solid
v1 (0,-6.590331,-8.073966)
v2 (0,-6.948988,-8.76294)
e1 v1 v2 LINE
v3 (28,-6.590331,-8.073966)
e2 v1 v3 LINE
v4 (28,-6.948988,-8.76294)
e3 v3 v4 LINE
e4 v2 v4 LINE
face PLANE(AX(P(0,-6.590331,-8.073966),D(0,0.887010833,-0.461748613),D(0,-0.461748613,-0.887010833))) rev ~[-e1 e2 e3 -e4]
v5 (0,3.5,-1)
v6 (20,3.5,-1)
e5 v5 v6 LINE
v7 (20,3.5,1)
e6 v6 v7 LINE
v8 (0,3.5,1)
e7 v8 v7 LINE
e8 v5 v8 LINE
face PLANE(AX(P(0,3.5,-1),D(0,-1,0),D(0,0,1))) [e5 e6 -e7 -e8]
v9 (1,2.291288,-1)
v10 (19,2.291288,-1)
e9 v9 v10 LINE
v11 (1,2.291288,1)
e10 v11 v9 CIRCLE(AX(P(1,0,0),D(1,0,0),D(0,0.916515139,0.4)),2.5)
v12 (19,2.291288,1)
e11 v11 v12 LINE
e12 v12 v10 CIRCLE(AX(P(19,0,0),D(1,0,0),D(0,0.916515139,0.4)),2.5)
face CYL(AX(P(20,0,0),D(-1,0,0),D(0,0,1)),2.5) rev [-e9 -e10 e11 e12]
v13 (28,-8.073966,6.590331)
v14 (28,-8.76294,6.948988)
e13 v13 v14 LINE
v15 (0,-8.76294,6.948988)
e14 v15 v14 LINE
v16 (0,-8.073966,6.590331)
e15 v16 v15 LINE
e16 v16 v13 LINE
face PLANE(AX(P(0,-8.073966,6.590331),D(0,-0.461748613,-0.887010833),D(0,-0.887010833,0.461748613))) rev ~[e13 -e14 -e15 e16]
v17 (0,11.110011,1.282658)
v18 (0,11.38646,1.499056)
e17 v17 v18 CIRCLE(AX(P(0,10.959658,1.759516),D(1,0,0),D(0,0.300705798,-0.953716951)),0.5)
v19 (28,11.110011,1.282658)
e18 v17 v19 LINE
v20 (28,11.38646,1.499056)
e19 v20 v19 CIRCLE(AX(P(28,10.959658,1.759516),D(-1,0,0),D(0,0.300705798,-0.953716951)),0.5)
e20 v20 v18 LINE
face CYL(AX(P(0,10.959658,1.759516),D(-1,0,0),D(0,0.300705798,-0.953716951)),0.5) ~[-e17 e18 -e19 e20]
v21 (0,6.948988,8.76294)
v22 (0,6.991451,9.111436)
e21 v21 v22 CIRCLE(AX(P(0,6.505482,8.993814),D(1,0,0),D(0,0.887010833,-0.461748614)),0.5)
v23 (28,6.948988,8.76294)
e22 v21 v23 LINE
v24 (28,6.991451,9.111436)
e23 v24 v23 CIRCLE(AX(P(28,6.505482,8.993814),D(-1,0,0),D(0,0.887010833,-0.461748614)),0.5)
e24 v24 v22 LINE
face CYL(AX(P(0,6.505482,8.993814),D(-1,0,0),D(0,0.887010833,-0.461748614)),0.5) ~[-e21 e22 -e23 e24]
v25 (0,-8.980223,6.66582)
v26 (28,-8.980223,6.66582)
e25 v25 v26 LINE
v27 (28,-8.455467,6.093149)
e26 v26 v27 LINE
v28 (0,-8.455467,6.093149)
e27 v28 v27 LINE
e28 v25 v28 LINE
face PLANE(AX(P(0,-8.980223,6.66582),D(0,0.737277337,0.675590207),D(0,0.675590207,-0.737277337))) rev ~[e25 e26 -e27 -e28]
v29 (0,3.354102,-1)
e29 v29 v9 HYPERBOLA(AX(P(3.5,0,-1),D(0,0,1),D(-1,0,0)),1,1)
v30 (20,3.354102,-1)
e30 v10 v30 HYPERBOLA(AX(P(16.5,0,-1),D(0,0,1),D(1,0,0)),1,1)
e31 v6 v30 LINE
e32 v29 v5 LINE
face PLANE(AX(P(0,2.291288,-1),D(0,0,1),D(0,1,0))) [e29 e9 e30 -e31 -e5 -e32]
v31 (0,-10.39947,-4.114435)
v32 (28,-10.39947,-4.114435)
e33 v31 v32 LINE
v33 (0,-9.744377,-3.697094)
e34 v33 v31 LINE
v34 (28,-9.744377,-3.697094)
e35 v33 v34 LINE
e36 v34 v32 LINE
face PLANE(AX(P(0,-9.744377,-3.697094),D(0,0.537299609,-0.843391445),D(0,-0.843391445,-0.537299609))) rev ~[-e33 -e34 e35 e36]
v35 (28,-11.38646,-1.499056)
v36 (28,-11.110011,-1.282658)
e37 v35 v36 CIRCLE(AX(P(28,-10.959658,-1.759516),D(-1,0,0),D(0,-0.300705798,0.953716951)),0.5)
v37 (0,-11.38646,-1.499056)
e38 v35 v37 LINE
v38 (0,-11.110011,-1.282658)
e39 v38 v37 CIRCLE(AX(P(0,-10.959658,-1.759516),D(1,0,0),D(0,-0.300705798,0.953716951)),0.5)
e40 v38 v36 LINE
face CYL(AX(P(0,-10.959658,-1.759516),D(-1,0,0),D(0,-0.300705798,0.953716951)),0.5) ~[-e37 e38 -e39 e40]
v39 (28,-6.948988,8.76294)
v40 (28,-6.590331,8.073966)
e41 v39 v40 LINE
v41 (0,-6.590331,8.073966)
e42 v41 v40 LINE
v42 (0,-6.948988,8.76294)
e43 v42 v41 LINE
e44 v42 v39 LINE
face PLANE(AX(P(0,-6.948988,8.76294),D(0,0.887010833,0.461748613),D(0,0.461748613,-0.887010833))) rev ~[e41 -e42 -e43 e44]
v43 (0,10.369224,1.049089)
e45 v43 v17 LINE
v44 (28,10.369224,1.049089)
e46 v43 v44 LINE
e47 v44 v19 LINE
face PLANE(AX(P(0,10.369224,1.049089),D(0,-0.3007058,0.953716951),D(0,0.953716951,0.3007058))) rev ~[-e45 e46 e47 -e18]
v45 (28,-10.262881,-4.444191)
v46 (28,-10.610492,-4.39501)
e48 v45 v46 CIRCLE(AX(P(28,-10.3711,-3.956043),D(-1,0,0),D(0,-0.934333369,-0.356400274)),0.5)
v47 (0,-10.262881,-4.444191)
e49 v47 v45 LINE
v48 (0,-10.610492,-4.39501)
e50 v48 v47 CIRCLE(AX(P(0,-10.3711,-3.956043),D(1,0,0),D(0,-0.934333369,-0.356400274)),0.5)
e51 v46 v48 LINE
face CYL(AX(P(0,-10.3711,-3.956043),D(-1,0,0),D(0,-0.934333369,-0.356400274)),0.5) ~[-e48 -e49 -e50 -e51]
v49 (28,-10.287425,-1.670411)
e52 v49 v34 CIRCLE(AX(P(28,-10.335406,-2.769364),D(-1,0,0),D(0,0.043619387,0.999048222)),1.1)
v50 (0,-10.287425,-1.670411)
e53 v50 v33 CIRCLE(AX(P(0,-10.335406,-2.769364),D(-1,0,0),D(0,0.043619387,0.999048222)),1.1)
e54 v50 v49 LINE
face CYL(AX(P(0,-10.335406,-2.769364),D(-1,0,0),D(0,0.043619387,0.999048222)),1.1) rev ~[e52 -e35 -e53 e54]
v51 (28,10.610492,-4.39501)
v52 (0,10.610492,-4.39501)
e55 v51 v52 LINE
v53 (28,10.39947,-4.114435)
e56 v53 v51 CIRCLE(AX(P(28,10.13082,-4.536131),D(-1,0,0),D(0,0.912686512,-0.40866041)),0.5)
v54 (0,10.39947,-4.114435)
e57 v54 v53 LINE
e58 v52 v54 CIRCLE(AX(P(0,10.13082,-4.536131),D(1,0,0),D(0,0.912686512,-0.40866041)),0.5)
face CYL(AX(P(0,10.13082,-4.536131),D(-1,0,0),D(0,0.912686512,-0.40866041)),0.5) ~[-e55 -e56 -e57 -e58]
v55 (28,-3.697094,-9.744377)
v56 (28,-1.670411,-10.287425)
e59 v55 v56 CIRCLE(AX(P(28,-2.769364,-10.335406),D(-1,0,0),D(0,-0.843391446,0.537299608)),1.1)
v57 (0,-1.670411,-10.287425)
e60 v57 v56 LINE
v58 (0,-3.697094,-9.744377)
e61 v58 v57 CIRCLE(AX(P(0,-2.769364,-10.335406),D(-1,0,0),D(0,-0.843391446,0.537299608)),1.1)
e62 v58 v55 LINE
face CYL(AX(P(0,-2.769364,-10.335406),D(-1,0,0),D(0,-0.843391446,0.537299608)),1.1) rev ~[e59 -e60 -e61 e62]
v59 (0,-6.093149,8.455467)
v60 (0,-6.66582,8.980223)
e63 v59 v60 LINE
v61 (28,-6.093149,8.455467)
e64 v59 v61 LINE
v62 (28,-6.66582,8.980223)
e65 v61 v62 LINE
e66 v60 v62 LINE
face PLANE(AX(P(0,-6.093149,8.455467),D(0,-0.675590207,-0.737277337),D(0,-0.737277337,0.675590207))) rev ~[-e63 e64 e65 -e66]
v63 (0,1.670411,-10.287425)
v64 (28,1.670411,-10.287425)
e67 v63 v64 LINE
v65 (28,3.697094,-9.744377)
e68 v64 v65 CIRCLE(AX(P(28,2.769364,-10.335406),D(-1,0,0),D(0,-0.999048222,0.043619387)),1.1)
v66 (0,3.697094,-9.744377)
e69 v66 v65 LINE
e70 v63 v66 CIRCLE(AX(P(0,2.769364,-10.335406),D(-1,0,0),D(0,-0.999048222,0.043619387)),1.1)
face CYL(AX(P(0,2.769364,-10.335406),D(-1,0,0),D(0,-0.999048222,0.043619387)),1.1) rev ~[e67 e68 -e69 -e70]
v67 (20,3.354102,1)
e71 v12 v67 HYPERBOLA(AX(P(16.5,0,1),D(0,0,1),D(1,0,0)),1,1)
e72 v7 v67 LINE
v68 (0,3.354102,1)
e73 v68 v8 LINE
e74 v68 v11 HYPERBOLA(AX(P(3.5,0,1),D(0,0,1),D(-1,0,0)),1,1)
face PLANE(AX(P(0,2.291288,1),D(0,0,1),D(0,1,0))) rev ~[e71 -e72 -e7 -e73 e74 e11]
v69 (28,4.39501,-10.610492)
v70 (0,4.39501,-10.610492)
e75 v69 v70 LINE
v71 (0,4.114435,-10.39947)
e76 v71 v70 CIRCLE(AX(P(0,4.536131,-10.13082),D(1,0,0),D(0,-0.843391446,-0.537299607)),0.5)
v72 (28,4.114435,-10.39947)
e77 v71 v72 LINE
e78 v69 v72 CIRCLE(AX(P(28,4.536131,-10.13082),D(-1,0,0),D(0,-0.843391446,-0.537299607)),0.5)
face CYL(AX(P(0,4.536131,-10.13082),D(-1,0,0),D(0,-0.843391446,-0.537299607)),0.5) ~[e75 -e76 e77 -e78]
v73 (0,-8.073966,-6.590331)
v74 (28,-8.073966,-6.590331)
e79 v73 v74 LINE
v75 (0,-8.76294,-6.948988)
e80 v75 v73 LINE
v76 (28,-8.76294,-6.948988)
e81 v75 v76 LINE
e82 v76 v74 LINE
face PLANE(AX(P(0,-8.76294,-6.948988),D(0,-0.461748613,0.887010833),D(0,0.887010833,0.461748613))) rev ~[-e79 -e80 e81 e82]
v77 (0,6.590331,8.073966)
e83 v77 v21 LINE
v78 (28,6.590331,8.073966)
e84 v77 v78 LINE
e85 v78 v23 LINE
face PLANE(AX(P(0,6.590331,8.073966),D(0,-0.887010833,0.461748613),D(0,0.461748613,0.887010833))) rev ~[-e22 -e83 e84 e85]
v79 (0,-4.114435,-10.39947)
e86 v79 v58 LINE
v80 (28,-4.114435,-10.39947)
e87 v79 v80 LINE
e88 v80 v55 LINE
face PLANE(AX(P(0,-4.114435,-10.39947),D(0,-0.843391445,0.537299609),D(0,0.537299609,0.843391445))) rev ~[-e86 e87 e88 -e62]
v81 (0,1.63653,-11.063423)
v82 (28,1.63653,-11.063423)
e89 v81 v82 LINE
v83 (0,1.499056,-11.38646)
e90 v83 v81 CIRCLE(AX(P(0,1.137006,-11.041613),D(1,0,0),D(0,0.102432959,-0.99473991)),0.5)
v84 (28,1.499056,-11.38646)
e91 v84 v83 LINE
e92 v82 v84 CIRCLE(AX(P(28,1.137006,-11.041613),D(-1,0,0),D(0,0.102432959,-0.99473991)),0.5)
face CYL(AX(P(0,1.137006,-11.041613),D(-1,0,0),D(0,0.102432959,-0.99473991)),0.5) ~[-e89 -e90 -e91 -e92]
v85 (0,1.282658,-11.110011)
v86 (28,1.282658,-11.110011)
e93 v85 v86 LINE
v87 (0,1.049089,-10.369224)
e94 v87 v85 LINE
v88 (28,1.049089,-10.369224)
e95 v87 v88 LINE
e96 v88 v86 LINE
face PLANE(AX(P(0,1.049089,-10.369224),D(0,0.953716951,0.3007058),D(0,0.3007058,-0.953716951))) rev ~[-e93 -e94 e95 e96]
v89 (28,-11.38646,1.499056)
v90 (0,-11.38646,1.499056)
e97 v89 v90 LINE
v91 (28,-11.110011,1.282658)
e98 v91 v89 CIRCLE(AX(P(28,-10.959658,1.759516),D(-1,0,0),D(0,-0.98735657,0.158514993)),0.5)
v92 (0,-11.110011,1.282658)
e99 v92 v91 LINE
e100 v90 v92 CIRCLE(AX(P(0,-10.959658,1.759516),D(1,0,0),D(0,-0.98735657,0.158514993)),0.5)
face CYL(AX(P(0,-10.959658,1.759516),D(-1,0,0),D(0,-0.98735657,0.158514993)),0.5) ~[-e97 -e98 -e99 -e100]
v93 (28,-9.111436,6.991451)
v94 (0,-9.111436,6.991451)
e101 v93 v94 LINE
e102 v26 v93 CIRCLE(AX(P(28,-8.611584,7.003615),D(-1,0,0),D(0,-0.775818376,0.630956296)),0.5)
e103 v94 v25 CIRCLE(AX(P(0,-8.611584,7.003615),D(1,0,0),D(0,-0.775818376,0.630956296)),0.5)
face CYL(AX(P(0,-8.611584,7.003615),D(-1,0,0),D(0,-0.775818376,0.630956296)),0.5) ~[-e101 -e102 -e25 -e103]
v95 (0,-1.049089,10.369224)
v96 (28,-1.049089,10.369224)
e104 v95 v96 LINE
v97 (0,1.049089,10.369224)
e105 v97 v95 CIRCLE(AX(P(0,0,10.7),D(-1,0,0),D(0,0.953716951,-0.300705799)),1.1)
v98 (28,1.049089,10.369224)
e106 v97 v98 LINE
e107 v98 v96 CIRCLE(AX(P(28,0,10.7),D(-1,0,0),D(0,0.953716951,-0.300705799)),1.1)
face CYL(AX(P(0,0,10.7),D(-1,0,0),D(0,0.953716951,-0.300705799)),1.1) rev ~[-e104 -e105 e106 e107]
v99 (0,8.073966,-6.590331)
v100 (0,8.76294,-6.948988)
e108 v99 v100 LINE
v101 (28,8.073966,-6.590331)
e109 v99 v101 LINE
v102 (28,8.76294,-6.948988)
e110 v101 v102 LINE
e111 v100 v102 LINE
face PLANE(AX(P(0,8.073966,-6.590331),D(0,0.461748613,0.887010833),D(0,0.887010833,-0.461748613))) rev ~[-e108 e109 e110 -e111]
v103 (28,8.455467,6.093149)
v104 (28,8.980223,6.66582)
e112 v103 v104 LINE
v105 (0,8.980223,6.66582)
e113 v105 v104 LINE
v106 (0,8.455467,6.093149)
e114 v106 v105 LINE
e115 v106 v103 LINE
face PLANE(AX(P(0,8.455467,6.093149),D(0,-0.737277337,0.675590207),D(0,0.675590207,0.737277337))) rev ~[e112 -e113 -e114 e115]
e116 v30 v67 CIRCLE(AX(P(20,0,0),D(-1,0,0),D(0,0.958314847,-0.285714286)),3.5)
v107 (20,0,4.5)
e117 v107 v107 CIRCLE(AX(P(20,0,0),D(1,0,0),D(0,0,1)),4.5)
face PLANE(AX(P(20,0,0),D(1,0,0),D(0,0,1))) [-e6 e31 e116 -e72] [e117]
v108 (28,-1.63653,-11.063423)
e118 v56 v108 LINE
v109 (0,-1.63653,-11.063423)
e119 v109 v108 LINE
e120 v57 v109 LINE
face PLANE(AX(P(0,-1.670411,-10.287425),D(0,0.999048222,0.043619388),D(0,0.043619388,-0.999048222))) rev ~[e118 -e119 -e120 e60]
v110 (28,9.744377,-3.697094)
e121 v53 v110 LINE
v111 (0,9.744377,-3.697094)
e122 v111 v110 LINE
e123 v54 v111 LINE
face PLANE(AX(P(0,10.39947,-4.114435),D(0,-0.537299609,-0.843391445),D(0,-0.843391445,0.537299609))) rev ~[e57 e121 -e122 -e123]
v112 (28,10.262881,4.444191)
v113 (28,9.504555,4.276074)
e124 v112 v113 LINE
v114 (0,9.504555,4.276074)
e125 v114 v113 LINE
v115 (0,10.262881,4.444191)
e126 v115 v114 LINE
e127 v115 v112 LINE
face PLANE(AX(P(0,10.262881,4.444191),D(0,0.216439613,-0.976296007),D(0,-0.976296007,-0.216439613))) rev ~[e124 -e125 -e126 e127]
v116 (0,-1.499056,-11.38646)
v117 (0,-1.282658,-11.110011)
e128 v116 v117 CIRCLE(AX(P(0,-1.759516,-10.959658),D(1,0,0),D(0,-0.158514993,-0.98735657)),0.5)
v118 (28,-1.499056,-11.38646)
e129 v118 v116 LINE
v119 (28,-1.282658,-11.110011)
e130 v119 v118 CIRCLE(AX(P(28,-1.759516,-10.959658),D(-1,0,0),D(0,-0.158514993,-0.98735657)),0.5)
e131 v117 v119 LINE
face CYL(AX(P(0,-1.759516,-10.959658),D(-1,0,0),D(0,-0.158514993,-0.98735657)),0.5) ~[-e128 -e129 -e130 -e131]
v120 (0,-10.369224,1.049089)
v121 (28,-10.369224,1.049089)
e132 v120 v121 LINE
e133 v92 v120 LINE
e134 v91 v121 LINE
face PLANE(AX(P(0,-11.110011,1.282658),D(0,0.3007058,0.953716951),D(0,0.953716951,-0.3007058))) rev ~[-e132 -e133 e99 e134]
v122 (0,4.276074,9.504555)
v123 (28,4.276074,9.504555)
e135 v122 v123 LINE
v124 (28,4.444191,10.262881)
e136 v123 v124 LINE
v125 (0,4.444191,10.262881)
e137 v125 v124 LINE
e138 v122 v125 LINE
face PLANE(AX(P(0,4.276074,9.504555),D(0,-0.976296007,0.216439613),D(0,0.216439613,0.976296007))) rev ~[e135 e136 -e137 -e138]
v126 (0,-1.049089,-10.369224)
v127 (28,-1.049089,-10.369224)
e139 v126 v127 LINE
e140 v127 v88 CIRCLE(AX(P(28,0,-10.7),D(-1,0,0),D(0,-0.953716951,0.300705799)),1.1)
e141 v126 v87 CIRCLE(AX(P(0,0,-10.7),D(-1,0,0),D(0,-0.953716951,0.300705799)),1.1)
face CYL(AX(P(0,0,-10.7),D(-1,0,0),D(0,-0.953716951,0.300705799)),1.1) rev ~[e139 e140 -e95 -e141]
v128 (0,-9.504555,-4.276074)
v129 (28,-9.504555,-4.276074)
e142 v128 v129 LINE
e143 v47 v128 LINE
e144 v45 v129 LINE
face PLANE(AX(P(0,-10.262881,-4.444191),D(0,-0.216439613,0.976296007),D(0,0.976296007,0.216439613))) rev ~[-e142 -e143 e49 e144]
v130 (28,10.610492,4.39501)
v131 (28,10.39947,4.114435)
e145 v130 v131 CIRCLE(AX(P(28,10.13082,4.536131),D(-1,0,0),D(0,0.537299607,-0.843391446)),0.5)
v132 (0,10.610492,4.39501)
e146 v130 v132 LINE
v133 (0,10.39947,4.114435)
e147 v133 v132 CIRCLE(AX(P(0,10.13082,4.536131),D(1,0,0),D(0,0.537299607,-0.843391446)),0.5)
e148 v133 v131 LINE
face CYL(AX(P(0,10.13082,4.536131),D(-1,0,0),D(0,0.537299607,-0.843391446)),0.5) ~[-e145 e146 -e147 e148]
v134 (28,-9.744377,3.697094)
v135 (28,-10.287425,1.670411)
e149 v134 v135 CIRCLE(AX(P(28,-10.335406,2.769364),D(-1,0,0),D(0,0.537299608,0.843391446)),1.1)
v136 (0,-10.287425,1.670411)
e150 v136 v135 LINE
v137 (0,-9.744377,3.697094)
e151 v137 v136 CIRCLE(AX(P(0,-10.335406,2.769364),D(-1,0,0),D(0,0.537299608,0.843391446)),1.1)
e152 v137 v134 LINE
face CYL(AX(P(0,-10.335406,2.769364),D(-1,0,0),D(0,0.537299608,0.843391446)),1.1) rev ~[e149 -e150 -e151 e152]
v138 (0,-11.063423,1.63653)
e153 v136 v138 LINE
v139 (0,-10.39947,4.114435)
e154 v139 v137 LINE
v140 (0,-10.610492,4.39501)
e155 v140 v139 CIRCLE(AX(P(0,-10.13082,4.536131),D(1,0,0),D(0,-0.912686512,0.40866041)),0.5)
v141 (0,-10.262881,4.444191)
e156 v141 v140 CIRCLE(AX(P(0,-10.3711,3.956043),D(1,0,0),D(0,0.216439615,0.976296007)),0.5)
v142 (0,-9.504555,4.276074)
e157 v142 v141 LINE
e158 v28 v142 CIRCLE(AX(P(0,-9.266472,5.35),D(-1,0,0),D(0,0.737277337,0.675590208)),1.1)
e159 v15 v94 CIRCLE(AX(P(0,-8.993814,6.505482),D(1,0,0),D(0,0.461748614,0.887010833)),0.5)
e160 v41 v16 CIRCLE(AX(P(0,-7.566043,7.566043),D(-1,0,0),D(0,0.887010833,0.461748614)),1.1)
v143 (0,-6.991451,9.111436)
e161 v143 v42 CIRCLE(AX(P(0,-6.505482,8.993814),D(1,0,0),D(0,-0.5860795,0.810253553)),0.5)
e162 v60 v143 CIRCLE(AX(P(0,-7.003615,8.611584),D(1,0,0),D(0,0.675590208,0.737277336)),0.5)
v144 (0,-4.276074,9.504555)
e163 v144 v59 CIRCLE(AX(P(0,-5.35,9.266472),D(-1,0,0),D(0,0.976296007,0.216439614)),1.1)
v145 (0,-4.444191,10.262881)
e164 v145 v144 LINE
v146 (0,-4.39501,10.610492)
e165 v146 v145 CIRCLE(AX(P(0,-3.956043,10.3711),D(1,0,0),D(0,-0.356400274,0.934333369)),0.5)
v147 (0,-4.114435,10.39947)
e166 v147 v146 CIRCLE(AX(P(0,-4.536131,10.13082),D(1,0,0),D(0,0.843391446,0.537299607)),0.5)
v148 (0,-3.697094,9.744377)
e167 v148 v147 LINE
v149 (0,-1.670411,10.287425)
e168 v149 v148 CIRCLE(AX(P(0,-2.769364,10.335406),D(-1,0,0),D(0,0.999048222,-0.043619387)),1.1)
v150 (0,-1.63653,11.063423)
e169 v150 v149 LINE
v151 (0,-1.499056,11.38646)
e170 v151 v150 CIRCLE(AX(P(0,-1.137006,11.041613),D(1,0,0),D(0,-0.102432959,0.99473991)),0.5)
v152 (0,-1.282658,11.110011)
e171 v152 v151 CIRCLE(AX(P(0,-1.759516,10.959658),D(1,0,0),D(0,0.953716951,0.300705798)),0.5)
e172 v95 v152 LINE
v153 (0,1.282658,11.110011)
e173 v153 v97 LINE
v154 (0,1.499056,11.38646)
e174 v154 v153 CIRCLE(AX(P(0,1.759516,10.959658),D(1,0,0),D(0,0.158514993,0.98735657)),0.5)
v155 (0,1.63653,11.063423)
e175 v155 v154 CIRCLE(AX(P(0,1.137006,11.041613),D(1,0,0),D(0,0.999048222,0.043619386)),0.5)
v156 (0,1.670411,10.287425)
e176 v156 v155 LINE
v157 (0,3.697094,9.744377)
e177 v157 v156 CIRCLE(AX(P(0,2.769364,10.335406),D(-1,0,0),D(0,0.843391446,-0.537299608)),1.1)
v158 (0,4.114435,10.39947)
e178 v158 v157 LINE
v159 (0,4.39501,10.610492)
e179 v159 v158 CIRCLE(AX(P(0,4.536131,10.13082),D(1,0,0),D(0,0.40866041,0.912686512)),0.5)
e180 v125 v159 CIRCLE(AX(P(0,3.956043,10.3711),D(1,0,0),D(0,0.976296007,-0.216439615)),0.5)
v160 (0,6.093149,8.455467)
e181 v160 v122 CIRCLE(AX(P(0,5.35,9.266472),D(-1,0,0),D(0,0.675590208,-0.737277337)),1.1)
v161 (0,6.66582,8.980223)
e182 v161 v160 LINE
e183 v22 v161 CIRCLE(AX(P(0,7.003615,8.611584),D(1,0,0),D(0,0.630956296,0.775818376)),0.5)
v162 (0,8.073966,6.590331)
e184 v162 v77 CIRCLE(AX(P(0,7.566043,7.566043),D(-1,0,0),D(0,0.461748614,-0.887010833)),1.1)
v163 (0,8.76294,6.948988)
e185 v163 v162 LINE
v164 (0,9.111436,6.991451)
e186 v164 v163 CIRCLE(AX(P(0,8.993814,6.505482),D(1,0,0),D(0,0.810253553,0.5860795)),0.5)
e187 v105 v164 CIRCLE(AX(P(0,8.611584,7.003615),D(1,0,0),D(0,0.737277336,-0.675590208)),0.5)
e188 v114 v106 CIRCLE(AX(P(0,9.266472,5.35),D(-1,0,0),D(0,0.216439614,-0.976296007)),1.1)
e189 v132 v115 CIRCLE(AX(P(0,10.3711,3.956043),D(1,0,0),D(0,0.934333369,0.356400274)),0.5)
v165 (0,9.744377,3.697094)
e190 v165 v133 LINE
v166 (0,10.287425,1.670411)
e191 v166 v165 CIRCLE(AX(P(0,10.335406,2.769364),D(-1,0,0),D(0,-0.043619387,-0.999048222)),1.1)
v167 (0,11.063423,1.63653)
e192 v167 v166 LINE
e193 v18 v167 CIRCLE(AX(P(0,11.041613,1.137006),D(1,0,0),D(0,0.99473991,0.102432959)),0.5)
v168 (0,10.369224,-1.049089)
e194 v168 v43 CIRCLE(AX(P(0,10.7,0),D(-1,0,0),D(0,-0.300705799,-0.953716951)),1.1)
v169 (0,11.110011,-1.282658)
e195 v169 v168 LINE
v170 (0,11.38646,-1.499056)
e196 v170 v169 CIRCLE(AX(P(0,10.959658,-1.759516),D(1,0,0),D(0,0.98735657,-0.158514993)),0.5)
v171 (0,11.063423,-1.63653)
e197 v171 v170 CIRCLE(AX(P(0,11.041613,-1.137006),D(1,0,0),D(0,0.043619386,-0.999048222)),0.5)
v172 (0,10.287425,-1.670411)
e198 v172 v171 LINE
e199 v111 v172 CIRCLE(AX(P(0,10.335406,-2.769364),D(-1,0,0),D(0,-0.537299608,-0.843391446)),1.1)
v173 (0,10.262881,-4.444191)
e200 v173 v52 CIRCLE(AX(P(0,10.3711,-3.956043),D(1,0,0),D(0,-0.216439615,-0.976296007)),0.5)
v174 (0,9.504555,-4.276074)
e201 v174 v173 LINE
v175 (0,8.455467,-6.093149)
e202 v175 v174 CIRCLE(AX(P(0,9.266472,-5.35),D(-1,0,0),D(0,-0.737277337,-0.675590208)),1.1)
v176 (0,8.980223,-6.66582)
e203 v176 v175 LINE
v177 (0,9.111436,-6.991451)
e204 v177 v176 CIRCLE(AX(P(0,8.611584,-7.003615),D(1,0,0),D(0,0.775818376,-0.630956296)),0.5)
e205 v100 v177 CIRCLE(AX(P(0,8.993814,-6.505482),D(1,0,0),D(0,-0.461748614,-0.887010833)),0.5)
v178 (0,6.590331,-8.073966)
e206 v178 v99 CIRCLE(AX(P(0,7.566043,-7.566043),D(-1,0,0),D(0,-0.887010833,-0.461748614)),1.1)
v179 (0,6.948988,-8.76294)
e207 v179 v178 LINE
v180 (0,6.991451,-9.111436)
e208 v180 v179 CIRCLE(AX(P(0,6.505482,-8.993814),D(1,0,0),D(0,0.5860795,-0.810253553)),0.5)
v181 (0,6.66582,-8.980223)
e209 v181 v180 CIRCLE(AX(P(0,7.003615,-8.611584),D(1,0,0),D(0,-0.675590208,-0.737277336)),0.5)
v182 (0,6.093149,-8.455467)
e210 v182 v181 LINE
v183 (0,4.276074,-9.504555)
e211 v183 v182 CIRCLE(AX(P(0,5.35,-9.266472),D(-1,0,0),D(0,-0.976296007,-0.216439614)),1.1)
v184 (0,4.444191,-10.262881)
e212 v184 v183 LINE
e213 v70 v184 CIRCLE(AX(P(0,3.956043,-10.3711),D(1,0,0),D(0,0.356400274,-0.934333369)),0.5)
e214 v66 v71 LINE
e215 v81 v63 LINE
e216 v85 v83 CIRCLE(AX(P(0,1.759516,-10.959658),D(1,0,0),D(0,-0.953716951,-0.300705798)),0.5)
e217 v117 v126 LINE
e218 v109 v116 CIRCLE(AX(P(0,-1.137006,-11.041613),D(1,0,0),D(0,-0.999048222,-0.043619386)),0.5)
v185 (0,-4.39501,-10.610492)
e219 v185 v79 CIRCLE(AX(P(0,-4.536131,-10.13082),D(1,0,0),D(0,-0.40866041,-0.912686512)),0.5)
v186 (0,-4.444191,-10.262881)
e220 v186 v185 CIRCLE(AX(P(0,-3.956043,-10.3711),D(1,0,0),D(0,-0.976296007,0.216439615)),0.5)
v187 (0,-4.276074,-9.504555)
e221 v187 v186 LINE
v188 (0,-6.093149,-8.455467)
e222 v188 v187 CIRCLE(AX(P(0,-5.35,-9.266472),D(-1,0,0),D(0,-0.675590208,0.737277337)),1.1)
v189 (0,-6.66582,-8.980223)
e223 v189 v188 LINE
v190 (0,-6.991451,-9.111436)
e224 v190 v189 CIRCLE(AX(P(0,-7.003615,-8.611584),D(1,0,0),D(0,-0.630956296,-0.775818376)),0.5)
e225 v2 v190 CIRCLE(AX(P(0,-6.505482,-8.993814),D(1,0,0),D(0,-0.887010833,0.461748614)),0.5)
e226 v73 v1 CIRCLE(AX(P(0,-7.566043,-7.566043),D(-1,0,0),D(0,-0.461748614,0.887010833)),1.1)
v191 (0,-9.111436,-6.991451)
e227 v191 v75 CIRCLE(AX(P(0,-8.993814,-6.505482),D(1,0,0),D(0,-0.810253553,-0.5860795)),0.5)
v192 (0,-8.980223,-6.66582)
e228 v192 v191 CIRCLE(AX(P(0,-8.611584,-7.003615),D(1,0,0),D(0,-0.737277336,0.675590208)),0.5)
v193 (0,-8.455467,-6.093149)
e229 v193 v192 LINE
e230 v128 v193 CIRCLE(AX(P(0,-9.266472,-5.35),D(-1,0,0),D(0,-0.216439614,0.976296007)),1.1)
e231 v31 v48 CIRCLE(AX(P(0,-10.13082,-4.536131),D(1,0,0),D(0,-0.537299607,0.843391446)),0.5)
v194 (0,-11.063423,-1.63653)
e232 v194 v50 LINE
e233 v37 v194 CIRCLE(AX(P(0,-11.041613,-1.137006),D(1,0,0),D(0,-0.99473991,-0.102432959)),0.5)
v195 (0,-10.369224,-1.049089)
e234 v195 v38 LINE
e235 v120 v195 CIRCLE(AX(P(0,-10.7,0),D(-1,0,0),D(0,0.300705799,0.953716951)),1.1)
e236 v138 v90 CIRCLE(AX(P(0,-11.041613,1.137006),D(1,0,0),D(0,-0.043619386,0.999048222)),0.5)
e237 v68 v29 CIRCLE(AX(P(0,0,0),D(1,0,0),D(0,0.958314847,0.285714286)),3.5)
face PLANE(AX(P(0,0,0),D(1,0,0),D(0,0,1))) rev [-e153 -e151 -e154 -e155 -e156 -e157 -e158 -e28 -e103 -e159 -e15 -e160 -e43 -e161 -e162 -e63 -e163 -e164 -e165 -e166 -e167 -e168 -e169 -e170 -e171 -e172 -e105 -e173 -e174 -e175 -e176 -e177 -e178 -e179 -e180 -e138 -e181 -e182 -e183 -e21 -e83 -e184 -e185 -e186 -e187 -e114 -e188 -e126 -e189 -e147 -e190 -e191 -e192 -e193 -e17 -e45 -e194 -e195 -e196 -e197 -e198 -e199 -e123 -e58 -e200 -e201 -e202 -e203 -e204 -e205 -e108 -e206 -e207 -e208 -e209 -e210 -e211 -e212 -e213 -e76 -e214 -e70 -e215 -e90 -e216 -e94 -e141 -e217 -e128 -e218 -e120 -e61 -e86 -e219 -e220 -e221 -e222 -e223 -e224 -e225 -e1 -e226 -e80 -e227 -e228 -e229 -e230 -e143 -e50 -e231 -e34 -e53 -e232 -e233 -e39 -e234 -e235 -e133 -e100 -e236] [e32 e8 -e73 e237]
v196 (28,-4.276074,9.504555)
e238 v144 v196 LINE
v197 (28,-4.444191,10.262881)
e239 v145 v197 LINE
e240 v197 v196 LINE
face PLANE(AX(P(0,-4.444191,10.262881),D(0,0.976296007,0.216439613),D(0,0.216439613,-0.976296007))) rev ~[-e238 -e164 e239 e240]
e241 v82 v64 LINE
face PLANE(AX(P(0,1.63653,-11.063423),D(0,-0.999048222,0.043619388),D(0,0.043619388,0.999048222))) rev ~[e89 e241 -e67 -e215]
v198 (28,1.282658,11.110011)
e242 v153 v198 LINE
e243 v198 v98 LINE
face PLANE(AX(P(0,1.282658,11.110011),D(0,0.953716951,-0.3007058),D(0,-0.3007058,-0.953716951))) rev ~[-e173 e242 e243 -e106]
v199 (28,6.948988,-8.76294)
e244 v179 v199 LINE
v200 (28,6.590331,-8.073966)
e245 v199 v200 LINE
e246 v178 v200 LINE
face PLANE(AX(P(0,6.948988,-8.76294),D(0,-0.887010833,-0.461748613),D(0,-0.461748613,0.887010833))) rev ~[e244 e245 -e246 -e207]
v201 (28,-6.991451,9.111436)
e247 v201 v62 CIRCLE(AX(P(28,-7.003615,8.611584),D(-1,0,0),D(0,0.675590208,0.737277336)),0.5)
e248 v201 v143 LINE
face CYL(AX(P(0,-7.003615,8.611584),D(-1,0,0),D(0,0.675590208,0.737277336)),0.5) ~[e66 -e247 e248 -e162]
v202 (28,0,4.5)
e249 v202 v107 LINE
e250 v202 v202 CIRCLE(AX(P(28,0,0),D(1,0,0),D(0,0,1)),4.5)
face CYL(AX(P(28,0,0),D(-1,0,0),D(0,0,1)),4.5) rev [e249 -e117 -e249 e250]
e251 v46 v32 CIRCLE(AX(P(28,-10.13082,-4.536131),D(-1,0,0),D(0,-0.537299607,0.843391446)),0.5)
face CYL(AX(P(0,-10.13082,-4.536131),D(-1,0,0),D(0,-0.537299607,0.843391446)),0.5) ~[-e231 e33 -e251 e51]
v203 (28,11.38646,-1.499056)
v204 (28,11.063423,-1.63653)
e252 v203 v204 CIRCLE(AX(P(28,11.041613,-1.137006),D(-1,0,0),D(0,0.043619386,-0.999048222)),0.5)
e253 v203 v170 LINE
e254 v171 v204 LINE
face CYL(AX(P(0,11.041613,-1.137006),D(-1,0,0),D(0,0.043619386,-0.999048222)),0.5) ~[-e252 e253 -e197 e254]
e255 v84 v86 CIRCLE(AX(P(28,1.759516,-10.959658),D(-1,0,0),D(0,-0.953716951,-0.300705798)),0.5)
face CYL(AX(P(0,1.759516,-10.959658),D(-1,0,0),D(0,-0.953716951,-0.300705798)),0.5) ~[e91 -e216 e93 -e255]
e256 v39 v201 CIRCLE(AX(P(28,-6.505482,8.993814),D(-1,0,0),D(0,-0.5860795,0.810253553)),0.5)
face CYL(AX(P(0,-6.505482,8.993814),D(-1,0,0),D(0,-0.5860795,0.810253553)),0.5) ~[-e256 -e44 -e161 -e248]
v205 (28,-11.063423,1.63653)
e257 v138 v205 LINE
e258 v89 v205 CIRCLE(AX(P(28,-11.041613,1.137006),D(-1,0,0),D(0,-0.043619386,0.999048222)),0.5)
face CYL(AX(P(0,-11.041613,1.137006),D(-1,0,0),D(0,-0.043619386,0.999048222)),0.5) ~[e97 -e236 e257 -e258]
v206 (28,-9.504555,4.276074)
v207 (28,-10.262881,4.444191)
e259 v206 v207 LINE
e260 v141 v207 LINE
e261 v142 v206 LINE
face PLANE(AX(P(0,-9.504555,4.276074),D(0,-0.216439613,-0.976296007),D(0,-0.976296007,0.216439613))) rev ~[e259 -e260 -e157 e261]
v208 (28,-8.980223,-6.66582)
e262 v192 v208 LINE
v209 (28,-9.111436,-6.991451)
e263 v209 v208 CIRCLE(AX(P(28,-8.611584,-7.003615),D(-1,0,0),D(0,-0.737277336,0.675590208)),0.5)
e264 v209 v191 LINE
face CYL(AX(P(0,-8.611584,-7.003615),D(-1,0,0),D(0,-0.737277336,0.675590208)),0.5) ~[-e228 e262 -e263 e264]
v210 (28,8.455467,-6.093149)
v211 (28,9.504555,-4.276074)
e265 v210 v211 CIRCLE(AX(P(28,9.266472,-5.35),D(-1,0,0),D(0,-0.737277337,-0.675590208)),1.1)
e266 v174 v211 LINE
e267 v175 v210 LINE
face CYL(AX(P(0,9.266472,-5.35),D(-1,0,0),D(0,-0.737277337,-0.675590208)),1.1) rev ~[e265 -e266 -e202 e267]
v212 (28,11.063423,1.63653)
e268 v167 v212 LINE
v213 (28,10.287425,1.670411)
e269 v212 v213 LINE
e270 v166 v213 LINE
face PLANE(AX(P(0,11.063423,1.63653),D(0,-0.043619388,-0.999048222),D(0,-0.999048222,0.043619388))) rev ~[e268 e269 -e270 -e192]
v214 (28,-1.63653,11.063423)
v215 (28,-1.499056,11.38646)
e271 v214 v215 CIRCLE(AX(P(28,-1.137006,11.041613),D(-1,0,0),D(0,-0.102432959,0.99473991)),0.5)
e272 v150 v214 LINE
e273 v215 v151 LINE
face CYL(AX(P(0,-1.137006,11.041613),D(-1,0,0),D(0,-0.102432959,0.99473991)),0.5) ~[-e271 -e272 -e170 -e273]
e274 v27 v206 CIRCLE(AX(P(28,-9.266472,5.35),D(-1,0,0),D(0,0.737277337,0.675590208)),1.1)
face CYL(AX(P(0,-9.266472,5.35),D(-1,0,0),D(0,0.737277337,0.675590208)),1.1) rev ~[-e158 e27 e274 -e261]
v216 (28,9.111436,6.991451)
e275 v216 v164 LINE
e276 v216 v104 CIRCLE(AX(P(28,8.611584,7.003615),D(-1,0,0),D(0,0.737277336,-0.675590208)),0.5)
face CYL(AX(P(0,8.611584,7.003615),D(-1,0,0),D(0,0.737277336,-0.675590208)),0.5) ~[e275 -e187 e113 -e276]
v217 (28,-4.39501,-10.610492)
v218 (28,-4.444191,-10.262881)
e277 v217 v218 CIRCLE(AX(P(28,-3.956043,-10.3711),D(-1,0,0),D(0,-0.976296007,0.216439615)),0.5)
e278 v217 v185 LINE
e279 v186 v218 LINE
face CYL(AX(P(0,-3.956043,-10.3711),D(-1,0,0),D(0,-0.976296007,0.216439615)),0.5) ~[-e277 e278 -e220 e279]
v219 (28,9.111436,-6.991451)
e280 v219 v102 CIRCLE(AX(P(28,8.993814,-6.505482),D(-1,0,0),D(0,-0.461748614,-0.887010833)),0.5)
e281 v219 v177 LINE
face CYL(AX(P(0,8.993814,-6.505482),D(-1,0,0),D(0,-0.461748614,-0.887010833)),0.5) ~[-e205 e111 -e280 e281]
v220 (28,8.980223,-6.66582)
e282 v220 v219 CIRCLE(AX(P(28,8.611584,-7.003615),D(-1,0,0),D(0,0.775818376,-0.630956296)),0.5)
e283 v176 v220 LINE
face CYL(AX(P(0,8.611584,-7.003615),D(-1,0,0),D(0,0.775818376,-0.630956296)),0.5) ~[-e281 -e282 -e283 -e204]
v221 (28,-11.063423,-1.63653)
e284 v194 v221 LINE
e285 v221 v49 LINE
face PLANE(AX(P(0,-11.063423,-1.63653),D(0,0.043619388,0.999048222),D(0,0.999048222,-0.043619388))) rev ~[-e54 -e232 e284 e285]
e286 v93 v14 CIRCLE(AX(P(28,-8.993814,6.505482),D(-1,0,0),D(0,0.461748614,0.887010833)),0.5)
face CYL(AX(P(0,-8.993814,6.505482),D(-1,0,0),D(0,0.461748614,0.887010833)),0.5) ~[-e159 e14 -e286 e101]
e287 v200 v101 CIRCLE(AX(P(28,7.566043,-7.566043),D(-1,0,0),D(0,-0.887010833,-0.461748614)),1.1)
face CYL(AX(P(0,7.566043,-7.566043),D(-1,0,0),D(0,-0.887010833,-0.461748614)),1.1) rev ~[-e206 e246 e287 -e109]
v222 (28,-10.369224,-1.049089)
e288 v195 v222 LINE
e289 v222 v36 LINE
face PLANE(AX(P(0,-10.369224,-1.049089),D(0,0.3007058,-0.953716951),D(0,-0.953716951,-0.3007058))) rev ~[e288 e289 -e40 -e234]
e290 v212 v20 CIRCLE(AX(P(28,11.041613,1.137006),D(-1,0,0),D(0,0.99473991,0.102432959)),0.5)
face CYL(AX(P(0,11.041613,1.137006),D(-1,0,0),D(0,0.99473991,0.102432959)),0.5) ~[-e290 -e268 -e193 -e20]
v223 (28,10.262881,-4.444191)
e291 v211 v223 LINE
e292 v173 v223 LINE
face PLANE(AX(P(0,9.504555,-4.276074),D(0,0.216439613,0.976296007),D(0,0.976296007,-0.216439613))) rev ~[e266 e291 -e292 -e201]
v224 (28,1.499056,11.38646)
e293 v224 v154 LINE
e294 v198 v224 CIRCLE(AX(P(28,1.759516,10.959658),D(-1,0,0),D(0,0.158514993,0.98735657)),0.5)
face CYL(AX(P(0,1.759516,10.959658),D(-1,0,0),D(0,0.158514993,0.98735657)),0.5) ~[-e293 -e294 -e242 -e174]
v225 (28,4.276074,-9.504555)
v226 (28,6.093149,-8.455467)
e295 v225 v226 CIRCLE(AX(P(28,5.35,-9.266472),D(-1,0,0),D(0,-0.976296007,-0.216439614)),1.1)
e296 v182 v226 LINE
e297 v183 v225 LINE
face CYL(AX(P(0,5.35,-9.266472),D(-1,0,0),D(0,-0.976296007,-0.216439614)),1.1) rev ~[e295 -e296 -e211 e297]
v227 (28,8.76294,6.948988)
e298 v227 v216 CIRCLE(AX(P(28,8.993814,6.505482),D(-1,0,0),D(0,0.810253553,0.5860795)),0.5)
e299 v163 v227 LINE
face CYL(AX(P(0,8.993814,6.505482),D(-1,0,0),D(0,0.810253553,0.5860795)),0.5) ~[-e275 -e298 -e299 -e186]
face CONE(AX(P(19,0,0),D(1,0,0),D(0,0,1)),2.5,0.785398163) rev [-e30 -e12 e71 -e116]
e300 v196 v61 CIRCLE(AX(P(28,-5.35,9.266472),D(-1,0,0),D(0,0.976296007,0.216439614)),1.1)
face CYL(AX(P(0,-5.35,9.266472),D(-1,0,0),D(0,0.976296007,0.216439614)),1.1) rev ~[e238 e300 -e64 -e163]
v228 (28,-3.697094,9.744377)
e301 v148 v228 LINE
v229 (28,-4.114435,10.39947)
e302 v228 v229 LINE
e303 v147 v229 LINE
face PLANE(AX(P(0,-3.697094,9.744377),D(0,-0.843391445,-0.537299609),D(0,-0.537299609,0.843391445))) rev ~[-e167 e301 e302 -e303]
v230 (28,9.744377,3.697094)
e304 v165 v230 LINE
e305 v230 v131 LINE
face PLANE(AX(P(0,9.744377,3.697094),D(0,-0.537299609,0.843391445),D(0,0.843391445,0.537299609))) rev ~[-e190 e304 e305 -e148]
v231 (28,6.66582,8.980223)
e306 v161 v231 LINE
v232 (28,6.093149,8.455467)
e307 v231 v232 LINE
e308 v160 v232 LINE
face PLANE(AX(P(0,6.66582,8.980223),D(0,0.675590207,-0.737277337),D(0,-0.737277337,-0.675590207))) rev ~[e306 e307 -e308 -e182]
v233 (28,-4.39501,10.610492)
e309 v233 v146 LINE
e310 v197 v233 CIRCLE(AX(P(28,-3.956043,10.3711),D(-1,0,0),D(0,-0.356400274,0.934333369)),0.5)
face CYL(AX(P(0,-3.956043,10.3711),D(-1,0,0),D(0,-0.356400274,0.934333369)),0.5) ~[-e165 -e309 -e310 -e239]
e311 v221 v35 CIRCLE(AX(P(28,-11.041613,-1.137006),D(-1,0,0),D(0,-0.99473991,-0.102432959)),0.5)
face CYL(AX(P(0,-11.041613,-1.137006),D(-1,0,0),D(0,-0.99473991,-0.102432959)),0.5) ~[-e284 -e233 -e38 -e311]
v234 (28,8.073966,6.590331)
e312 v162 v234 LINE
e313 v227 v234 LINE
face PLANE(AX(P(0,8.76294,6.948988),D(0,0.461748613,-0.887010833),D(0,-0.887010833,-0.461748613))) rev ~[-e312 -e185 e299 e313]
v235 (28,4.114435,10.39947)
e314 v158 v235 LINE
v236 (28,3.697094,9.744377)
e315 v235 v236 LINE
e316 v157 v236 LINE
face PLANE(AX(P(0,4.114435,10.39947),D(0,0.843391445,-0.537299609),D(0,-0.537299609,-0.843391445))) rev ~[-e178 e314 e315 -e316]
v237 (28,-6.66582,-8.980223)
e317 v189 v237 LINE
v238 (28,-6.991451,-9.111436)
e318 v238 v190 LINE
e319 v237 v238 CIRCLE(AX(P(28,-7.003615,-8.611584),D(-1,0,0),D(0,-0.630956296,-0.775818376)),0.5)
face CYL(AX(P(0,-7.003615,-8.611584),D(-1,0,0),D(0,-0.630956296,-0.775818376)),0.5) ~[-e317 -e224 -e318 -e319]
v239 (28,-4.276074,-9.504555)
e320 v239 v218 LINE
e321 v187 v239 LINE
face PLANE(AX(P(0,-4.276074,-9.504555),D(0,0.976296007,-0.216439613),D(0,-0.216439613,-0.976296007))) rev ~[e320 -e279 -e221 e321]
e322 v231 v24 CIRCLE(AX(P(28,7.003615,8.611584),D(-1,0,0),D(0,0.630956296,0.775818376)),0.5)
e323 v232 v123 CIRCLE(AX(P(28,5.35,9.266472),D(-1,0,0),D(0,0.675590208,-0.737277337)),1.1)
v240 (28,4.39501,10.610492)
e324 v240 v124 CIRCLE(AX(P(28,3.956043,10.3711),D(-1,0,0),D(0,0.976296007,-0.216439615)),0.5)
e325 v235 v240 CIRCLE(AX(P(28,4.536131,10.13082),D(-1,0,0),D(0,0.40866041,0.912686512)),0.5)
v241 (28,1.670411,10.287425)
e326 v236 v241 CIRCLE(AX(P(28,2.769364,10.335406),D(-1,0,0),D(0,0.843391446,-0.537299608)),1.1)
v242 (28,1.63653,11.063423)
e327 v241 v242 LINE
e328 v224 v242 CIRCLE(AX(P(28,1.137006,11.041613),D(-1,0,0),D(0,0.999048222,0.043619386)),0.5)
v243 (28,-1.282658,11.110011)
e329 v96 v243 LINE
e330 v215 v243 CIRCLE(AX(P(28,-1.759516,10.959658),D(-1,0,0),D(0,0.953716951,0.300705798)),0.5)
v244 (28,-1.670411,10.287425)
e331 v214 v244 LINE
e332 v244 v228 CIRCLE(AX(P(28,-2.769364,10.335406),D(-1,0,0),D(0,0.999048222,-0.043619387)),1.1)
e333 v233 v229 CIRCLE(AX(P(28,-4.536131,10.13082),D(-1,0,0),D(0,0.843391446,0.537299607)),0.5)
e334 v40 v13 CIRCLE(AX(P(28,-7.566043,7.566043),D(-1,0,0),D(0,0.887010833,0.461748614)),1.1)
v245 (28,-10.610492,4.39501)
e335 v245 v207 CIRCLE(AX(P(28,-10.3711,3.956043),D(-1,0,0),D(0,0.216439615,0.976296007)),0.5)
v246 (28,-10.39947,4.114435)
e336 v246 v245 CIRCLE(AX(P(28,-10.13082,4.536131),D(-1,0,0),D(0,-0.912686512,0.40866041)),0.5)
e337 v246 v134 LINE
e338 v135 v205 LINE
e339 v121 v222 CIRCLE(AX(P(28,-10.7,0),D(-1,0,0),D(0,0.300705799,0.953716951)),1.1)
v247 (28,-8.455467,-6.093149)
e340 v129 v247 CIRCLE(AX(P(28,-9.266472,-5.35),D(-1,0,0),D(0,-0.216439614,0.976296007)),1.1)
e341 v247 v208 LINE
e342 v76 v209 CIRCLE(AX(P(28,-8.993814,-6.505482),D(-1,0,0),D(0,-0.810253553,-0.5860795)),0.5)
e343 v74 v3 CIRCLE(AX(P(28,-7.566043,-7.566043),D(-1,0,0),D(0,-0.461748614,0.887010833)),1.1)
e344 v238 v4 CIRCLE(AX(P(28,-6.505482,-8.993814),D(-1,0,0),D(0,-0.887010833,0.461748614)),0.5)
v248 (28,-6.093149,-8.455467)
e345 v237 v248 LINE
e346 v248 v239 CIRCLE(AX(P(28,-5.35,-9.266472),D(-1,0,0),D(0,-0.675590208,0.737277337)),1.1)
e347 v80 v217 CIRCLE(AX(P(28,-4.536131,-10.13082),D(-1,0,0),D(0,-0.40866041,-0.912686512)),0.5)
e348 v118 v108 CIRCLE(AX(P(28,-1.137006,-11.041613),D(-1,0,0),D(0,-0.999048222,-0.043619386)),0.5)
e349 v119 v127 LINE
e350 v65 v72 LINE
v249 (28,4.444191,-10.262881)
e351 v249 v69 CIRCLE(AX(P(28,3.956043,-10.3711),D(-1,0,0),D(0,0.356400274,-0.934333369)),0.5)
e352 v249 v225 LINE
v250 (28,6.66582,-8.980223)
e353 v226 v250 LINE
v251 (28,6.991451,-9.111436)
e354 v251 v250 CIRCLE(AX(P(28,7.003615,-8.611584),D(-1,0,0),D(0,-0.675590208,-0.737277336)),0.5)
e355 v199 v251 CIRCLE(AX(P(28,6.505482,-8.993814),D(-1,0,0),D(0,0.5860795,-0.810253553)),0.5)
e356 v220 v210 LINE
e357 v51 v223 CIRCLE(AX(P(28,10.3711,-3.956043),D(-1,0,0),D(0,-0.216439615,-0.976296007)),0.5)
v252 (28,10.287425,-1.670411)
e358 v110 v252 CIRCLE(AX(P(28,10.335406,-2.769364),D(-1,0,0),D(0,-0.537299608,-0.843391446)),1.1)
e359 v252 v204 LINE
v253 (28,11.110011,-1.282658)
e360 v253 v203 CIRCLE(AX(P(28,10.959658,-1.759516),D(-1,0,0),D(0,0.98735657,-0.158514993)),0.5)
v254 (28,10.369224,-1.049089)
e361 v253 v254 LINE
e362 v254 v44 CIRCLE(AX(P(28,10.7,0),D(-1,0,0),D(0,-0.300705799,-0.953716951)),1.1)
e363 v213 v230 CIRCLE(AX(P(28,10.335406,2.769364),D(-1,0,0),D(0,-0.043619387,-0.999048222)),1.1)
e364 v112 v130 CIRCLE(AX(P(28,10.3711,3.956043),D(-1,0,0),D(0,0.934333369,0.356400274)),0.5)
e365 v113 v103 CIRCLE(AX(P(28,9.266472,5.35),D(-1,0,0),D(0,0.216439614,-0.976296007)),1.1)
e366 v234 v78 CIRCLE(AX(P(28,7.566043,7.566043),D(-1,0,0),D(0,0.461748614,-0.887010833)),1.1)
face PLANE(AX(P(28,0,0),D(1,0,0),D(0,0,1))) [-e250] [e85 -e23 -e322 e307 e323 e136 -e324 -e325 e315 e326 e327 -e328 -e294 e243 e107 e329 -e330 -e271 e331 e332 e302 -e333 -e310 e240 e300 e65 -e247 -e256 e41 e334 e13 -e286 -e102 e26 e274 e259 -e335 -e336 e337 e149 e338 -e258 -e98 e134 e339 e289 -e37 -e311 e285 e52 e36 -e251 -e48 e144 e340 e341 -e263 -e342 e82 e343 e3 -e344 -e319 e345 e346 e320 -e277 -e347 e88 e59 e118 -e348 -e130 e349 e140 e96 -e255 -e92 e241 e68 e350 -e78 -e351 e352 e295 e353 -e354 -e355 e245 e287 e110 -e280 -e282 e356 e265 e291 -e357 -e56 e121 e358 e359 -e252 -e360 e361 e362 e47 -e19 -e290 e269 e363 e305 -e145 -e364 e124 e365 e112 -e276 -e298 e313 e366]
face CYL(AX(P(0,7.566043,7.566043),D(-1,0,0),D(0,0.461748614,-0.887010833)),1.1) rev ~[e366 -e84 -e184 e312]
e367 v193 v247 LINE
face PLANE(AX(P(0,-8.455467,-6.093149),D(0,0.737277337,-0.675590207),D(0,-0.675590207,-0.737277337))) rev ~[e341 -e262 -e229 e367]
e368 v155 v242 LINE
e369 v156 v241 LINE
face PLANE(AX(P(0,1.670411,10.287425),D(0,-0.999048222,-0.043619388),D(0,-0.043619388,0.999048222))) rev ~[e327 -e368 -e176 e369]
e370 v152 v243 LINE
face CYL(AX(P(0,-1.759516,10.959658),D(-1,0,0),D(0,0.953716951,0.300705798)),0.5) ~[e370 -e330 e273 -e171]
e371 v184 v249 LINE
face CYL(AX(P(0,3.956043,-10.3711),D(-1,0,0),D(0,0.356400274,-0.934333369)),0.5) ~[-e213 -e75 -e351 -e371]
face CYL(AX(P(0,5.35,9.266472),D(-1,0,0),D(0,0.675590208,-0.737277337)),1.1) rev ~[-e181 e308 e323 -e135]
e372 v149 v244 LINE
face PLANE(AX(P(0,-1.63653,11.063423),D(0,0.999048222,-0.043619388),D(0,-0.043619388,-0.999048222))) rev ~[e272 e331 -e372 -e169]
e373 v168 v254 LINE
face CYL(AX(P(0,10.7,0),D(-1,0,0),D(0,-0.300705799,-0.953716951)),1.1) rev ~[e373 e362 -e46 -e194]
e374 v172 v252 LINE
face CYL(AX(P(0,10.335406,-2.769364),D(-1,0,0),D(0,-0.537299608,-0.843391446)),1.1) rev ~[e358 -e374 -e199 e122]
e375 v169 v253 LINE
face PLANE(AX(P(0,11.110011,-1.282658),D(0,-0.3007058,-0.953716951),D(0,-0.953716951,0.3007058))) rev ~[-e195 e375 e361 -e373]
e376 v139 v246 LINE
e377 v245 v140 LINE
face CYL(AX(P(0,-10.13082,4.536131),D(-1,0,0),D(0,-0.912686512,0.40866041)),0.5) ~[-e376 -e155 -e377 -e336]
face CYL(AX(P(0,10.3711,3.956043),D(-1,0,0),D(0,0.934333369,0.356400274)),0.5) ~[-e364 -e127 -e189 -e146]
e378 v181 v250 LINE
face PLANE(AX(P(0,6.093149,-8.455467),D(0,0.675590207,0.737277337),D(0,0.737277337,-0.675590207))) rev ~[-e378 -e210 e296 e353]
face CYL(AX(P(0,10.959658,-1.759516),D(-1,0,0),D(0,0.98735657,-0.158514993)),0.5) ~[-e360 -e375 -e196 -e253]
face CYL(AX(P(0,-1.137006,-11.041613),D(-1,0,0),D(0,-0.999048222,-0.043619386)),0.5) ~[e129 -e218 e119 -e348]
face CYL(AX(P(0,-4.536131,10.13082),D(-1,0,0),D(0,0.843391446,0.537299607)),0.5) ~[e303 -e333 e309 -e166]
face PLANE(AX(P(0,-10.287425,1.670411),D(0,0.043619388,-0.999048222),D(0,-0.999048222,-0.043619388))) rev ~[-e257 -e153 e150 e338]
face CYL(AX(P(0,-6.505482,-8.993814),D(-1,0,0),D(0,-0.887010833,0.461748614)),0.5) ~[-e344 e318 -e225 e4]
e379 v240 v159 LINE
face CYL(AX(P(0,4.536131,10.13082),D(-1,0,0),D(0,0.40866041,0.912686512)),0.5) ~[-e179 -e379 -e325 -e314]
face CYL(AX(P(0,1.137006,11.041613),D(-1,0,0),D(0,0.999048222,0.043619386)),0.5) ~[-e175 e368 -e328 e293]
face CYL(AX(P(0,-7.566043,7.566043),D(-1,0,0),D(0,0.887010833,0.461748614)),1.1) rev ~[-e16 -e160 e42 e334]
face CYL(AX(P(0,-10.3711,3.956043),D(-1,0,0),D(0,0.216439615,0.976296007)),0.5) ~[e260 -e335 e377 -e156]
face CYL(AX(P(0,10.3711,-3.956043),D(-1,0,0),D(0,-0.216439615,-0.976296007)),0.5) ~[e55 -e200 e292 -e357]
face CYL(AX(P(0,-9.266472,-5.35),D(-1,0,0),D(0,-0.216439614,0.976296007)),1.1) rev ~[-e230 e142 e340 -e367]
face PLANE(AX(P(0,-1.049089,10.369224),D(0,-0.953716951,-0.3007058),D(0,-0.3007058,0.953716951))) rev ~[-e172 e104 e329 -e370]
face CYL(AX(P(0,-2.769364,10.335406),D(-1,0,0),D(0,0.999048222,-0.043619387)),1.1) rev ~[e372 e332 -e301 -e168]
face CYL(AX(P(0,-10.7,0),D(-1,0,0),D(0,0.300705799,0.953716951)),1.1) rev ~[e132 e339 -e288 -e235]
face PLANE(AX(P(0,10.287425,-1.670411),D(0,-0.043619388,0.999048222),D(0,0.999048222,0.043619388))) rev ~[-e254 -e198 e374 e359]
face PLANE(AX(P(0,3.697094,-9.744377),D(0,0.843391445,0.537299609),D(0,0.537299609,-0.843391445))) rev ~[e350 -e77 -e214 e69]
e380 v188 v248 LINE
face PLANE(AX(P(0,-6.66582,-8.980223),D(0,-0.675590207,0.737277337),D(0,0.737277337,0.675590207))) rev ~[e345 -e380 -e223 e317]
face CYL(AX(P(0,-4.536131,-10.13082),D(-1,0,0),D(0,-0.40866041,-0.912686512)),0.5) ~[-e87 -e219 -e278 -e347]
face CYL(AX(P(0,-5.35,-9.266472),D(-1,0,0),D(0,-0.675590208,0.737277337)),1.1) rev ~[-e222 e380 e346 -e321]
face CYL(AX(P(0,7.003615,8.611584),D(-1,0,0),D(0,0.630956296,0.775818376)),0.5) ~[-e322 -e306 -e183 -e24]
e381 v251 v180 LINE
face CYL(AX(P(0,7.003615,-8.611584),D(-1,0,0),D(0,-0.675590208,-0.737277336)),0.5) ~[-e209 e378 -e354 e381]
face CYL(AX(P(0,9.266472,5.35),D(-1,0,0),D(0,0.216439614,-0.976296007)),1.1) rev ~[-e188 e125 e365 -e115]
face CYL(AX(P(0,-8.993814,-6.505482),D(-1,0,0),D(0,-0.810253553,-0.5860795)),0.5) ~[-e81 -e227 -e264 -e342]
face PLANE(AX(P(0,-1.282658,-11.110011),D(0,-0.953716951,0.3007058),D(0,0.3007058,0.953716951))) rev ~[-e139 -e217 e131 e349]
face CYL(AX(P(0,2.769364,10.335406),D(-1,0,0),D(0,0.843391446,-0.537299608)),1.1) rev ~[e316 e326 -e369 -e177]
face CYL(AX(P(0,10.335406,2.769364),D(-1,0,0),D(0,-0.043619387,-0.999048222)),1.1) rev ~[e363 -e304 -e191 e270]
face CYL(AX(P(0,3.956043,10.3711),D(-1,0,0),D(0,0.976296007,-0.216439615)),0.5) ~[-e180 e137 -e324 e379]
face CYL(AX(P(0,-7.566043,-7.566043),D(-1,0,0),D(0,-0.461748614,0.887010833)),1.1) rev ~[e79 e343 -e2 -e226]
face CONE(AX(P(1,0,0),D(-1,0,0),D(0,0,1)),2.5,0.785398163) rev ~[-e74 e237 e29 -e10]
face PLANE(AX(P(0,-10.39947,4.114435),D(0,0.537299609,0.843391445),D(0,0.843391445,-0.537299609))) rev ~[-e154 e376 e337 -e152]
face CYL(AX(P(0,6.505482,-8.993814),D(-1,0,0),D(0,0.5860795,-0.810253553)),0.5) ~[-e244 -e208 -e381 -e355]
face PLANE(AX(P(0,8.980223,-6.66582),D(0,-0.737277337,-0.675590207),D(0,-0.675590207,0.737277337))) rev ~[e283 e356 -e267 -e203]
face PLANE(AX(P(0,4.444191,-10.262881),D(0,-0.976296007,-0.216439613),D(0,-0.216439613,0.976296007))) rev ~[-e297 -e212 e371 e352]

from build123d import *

# Parameters (mm, degrees)
CHAMFER_1_SIZE           = 1
SKETCH_4_W               = 2
SKETCH_4_H               = 1.208712153
CUT_EXTRUDE_1_DEPTH      = 33.451810427
CUT_EXTRUDE_2_REACH      = 34.452
PATTERN_CIRCULAR_3_COUNT = 24


with BuildPart() as part:
    # 草图1 → 旋转1 (revolve)
    with BuildSketch(Plane.XY):
        Polygon((0, 2.5), (0, 11.6), (28, 11.6), (28, 4.5), (20, 4.5), (20, 2.5), align=None)
    revolve(axis=Axis((0, 0, 0), (1, 0, 0)))

    # 倒角1
    chamfer_1_edges = [part.edges().sort_by_distance(p)[0] for p in [
        (20, -2.5, 0),
        (0, -2.5, 0),
    ]]
    chamfer(chamfer_1_edges, length=CHAMFER_1_SIZE)

    # 草图4 → 切除-拉伸1 (cut, through all)
    with BuildSketch(Plane.ZY):
        with Locations((0, 2.895643923)):
            Rectangle(SKETCH_4_W, SKETCH_4_H)
    extrude(amount=-CUT_EXTRUDE_1_DEPTH, mode=Mode.SUBTRACT)

    # 草图6 → 切除-拉伸2 (cut, up to next)
    with BuildSketch(Plane(origin=(0, 0, 0), x_dir=(0, 0, -1), z_dir=(1, 0, 0)), mode=Mode.PRIVATE) as cut_extrude_2_sk1:
        with BuildLine():
            Line((1.282657956, 11.110010829), (1.049088646, 10.369223621))
            ThreePointArc((1.049088646, 10.369223621), (0, 9.6), (-1.049088646, 10.369223621))
            Line((-1.049088646, 10.369223621), (-1.282657956, 11.110010829))
            ThreePointArc((-1.282657956, 11.110010829), (-1.496857499, 11.385110965), (-1.838773928, 11.453336215))
            ThreePointArc((-1.838773928, 11.453336215), (-2.085185987, 11.411047253), (-2.330629413, 11.363457508))
            Line((-2.330629413, 11.363457508), (-2.815847343, 12.902372174))
            ThreePointArc((-2.815847343, 12.902372174), (0, 13.206066938), (2.815847343, 12.902372174))
            Line((2.815847343, 12.902372174), (2.330629413, 11.363457508))
            ThreePointArc((2.330629413, 11.363457508), (2.085185987, 11.411047253), (1.838773928, 11.453336215))
            ThreePointArc((1.838773928, 11.453336215), (1.496857499, 11.385110965), (1.282657956, 11.110010829))
        make_face()
    cut_extrude_2_tool1 = extrude(cut_extrude_2_sk1.sketch, amount=CUT_EXTRUDE_2_REACH, mode=Mode.PRIVATE) & part.part
    cut_extrude_2 = cut_extrude_2_tool1.solids().sort_by_distance((0, 11.799996, 0))[0]
    add(cut_extrude_2, mode=Mode.SUBTRACT)

    # 阵列(圆周)3: 切除-拉伸2 ×24 about axis
    pattern_circular_3_axis = Axis((-1.4, 0, 0), (1, 0, 0))
    for i in range(1, PATTERN_CIRCULAR_3_COUNT):
        add(cut_extrude_2.rotate(pattern_circular_3_axis, i * 360 / PATTERN_CIRCULAR_3_COUNT), mode=Mode.SUBTRACT)


solid = part.part
